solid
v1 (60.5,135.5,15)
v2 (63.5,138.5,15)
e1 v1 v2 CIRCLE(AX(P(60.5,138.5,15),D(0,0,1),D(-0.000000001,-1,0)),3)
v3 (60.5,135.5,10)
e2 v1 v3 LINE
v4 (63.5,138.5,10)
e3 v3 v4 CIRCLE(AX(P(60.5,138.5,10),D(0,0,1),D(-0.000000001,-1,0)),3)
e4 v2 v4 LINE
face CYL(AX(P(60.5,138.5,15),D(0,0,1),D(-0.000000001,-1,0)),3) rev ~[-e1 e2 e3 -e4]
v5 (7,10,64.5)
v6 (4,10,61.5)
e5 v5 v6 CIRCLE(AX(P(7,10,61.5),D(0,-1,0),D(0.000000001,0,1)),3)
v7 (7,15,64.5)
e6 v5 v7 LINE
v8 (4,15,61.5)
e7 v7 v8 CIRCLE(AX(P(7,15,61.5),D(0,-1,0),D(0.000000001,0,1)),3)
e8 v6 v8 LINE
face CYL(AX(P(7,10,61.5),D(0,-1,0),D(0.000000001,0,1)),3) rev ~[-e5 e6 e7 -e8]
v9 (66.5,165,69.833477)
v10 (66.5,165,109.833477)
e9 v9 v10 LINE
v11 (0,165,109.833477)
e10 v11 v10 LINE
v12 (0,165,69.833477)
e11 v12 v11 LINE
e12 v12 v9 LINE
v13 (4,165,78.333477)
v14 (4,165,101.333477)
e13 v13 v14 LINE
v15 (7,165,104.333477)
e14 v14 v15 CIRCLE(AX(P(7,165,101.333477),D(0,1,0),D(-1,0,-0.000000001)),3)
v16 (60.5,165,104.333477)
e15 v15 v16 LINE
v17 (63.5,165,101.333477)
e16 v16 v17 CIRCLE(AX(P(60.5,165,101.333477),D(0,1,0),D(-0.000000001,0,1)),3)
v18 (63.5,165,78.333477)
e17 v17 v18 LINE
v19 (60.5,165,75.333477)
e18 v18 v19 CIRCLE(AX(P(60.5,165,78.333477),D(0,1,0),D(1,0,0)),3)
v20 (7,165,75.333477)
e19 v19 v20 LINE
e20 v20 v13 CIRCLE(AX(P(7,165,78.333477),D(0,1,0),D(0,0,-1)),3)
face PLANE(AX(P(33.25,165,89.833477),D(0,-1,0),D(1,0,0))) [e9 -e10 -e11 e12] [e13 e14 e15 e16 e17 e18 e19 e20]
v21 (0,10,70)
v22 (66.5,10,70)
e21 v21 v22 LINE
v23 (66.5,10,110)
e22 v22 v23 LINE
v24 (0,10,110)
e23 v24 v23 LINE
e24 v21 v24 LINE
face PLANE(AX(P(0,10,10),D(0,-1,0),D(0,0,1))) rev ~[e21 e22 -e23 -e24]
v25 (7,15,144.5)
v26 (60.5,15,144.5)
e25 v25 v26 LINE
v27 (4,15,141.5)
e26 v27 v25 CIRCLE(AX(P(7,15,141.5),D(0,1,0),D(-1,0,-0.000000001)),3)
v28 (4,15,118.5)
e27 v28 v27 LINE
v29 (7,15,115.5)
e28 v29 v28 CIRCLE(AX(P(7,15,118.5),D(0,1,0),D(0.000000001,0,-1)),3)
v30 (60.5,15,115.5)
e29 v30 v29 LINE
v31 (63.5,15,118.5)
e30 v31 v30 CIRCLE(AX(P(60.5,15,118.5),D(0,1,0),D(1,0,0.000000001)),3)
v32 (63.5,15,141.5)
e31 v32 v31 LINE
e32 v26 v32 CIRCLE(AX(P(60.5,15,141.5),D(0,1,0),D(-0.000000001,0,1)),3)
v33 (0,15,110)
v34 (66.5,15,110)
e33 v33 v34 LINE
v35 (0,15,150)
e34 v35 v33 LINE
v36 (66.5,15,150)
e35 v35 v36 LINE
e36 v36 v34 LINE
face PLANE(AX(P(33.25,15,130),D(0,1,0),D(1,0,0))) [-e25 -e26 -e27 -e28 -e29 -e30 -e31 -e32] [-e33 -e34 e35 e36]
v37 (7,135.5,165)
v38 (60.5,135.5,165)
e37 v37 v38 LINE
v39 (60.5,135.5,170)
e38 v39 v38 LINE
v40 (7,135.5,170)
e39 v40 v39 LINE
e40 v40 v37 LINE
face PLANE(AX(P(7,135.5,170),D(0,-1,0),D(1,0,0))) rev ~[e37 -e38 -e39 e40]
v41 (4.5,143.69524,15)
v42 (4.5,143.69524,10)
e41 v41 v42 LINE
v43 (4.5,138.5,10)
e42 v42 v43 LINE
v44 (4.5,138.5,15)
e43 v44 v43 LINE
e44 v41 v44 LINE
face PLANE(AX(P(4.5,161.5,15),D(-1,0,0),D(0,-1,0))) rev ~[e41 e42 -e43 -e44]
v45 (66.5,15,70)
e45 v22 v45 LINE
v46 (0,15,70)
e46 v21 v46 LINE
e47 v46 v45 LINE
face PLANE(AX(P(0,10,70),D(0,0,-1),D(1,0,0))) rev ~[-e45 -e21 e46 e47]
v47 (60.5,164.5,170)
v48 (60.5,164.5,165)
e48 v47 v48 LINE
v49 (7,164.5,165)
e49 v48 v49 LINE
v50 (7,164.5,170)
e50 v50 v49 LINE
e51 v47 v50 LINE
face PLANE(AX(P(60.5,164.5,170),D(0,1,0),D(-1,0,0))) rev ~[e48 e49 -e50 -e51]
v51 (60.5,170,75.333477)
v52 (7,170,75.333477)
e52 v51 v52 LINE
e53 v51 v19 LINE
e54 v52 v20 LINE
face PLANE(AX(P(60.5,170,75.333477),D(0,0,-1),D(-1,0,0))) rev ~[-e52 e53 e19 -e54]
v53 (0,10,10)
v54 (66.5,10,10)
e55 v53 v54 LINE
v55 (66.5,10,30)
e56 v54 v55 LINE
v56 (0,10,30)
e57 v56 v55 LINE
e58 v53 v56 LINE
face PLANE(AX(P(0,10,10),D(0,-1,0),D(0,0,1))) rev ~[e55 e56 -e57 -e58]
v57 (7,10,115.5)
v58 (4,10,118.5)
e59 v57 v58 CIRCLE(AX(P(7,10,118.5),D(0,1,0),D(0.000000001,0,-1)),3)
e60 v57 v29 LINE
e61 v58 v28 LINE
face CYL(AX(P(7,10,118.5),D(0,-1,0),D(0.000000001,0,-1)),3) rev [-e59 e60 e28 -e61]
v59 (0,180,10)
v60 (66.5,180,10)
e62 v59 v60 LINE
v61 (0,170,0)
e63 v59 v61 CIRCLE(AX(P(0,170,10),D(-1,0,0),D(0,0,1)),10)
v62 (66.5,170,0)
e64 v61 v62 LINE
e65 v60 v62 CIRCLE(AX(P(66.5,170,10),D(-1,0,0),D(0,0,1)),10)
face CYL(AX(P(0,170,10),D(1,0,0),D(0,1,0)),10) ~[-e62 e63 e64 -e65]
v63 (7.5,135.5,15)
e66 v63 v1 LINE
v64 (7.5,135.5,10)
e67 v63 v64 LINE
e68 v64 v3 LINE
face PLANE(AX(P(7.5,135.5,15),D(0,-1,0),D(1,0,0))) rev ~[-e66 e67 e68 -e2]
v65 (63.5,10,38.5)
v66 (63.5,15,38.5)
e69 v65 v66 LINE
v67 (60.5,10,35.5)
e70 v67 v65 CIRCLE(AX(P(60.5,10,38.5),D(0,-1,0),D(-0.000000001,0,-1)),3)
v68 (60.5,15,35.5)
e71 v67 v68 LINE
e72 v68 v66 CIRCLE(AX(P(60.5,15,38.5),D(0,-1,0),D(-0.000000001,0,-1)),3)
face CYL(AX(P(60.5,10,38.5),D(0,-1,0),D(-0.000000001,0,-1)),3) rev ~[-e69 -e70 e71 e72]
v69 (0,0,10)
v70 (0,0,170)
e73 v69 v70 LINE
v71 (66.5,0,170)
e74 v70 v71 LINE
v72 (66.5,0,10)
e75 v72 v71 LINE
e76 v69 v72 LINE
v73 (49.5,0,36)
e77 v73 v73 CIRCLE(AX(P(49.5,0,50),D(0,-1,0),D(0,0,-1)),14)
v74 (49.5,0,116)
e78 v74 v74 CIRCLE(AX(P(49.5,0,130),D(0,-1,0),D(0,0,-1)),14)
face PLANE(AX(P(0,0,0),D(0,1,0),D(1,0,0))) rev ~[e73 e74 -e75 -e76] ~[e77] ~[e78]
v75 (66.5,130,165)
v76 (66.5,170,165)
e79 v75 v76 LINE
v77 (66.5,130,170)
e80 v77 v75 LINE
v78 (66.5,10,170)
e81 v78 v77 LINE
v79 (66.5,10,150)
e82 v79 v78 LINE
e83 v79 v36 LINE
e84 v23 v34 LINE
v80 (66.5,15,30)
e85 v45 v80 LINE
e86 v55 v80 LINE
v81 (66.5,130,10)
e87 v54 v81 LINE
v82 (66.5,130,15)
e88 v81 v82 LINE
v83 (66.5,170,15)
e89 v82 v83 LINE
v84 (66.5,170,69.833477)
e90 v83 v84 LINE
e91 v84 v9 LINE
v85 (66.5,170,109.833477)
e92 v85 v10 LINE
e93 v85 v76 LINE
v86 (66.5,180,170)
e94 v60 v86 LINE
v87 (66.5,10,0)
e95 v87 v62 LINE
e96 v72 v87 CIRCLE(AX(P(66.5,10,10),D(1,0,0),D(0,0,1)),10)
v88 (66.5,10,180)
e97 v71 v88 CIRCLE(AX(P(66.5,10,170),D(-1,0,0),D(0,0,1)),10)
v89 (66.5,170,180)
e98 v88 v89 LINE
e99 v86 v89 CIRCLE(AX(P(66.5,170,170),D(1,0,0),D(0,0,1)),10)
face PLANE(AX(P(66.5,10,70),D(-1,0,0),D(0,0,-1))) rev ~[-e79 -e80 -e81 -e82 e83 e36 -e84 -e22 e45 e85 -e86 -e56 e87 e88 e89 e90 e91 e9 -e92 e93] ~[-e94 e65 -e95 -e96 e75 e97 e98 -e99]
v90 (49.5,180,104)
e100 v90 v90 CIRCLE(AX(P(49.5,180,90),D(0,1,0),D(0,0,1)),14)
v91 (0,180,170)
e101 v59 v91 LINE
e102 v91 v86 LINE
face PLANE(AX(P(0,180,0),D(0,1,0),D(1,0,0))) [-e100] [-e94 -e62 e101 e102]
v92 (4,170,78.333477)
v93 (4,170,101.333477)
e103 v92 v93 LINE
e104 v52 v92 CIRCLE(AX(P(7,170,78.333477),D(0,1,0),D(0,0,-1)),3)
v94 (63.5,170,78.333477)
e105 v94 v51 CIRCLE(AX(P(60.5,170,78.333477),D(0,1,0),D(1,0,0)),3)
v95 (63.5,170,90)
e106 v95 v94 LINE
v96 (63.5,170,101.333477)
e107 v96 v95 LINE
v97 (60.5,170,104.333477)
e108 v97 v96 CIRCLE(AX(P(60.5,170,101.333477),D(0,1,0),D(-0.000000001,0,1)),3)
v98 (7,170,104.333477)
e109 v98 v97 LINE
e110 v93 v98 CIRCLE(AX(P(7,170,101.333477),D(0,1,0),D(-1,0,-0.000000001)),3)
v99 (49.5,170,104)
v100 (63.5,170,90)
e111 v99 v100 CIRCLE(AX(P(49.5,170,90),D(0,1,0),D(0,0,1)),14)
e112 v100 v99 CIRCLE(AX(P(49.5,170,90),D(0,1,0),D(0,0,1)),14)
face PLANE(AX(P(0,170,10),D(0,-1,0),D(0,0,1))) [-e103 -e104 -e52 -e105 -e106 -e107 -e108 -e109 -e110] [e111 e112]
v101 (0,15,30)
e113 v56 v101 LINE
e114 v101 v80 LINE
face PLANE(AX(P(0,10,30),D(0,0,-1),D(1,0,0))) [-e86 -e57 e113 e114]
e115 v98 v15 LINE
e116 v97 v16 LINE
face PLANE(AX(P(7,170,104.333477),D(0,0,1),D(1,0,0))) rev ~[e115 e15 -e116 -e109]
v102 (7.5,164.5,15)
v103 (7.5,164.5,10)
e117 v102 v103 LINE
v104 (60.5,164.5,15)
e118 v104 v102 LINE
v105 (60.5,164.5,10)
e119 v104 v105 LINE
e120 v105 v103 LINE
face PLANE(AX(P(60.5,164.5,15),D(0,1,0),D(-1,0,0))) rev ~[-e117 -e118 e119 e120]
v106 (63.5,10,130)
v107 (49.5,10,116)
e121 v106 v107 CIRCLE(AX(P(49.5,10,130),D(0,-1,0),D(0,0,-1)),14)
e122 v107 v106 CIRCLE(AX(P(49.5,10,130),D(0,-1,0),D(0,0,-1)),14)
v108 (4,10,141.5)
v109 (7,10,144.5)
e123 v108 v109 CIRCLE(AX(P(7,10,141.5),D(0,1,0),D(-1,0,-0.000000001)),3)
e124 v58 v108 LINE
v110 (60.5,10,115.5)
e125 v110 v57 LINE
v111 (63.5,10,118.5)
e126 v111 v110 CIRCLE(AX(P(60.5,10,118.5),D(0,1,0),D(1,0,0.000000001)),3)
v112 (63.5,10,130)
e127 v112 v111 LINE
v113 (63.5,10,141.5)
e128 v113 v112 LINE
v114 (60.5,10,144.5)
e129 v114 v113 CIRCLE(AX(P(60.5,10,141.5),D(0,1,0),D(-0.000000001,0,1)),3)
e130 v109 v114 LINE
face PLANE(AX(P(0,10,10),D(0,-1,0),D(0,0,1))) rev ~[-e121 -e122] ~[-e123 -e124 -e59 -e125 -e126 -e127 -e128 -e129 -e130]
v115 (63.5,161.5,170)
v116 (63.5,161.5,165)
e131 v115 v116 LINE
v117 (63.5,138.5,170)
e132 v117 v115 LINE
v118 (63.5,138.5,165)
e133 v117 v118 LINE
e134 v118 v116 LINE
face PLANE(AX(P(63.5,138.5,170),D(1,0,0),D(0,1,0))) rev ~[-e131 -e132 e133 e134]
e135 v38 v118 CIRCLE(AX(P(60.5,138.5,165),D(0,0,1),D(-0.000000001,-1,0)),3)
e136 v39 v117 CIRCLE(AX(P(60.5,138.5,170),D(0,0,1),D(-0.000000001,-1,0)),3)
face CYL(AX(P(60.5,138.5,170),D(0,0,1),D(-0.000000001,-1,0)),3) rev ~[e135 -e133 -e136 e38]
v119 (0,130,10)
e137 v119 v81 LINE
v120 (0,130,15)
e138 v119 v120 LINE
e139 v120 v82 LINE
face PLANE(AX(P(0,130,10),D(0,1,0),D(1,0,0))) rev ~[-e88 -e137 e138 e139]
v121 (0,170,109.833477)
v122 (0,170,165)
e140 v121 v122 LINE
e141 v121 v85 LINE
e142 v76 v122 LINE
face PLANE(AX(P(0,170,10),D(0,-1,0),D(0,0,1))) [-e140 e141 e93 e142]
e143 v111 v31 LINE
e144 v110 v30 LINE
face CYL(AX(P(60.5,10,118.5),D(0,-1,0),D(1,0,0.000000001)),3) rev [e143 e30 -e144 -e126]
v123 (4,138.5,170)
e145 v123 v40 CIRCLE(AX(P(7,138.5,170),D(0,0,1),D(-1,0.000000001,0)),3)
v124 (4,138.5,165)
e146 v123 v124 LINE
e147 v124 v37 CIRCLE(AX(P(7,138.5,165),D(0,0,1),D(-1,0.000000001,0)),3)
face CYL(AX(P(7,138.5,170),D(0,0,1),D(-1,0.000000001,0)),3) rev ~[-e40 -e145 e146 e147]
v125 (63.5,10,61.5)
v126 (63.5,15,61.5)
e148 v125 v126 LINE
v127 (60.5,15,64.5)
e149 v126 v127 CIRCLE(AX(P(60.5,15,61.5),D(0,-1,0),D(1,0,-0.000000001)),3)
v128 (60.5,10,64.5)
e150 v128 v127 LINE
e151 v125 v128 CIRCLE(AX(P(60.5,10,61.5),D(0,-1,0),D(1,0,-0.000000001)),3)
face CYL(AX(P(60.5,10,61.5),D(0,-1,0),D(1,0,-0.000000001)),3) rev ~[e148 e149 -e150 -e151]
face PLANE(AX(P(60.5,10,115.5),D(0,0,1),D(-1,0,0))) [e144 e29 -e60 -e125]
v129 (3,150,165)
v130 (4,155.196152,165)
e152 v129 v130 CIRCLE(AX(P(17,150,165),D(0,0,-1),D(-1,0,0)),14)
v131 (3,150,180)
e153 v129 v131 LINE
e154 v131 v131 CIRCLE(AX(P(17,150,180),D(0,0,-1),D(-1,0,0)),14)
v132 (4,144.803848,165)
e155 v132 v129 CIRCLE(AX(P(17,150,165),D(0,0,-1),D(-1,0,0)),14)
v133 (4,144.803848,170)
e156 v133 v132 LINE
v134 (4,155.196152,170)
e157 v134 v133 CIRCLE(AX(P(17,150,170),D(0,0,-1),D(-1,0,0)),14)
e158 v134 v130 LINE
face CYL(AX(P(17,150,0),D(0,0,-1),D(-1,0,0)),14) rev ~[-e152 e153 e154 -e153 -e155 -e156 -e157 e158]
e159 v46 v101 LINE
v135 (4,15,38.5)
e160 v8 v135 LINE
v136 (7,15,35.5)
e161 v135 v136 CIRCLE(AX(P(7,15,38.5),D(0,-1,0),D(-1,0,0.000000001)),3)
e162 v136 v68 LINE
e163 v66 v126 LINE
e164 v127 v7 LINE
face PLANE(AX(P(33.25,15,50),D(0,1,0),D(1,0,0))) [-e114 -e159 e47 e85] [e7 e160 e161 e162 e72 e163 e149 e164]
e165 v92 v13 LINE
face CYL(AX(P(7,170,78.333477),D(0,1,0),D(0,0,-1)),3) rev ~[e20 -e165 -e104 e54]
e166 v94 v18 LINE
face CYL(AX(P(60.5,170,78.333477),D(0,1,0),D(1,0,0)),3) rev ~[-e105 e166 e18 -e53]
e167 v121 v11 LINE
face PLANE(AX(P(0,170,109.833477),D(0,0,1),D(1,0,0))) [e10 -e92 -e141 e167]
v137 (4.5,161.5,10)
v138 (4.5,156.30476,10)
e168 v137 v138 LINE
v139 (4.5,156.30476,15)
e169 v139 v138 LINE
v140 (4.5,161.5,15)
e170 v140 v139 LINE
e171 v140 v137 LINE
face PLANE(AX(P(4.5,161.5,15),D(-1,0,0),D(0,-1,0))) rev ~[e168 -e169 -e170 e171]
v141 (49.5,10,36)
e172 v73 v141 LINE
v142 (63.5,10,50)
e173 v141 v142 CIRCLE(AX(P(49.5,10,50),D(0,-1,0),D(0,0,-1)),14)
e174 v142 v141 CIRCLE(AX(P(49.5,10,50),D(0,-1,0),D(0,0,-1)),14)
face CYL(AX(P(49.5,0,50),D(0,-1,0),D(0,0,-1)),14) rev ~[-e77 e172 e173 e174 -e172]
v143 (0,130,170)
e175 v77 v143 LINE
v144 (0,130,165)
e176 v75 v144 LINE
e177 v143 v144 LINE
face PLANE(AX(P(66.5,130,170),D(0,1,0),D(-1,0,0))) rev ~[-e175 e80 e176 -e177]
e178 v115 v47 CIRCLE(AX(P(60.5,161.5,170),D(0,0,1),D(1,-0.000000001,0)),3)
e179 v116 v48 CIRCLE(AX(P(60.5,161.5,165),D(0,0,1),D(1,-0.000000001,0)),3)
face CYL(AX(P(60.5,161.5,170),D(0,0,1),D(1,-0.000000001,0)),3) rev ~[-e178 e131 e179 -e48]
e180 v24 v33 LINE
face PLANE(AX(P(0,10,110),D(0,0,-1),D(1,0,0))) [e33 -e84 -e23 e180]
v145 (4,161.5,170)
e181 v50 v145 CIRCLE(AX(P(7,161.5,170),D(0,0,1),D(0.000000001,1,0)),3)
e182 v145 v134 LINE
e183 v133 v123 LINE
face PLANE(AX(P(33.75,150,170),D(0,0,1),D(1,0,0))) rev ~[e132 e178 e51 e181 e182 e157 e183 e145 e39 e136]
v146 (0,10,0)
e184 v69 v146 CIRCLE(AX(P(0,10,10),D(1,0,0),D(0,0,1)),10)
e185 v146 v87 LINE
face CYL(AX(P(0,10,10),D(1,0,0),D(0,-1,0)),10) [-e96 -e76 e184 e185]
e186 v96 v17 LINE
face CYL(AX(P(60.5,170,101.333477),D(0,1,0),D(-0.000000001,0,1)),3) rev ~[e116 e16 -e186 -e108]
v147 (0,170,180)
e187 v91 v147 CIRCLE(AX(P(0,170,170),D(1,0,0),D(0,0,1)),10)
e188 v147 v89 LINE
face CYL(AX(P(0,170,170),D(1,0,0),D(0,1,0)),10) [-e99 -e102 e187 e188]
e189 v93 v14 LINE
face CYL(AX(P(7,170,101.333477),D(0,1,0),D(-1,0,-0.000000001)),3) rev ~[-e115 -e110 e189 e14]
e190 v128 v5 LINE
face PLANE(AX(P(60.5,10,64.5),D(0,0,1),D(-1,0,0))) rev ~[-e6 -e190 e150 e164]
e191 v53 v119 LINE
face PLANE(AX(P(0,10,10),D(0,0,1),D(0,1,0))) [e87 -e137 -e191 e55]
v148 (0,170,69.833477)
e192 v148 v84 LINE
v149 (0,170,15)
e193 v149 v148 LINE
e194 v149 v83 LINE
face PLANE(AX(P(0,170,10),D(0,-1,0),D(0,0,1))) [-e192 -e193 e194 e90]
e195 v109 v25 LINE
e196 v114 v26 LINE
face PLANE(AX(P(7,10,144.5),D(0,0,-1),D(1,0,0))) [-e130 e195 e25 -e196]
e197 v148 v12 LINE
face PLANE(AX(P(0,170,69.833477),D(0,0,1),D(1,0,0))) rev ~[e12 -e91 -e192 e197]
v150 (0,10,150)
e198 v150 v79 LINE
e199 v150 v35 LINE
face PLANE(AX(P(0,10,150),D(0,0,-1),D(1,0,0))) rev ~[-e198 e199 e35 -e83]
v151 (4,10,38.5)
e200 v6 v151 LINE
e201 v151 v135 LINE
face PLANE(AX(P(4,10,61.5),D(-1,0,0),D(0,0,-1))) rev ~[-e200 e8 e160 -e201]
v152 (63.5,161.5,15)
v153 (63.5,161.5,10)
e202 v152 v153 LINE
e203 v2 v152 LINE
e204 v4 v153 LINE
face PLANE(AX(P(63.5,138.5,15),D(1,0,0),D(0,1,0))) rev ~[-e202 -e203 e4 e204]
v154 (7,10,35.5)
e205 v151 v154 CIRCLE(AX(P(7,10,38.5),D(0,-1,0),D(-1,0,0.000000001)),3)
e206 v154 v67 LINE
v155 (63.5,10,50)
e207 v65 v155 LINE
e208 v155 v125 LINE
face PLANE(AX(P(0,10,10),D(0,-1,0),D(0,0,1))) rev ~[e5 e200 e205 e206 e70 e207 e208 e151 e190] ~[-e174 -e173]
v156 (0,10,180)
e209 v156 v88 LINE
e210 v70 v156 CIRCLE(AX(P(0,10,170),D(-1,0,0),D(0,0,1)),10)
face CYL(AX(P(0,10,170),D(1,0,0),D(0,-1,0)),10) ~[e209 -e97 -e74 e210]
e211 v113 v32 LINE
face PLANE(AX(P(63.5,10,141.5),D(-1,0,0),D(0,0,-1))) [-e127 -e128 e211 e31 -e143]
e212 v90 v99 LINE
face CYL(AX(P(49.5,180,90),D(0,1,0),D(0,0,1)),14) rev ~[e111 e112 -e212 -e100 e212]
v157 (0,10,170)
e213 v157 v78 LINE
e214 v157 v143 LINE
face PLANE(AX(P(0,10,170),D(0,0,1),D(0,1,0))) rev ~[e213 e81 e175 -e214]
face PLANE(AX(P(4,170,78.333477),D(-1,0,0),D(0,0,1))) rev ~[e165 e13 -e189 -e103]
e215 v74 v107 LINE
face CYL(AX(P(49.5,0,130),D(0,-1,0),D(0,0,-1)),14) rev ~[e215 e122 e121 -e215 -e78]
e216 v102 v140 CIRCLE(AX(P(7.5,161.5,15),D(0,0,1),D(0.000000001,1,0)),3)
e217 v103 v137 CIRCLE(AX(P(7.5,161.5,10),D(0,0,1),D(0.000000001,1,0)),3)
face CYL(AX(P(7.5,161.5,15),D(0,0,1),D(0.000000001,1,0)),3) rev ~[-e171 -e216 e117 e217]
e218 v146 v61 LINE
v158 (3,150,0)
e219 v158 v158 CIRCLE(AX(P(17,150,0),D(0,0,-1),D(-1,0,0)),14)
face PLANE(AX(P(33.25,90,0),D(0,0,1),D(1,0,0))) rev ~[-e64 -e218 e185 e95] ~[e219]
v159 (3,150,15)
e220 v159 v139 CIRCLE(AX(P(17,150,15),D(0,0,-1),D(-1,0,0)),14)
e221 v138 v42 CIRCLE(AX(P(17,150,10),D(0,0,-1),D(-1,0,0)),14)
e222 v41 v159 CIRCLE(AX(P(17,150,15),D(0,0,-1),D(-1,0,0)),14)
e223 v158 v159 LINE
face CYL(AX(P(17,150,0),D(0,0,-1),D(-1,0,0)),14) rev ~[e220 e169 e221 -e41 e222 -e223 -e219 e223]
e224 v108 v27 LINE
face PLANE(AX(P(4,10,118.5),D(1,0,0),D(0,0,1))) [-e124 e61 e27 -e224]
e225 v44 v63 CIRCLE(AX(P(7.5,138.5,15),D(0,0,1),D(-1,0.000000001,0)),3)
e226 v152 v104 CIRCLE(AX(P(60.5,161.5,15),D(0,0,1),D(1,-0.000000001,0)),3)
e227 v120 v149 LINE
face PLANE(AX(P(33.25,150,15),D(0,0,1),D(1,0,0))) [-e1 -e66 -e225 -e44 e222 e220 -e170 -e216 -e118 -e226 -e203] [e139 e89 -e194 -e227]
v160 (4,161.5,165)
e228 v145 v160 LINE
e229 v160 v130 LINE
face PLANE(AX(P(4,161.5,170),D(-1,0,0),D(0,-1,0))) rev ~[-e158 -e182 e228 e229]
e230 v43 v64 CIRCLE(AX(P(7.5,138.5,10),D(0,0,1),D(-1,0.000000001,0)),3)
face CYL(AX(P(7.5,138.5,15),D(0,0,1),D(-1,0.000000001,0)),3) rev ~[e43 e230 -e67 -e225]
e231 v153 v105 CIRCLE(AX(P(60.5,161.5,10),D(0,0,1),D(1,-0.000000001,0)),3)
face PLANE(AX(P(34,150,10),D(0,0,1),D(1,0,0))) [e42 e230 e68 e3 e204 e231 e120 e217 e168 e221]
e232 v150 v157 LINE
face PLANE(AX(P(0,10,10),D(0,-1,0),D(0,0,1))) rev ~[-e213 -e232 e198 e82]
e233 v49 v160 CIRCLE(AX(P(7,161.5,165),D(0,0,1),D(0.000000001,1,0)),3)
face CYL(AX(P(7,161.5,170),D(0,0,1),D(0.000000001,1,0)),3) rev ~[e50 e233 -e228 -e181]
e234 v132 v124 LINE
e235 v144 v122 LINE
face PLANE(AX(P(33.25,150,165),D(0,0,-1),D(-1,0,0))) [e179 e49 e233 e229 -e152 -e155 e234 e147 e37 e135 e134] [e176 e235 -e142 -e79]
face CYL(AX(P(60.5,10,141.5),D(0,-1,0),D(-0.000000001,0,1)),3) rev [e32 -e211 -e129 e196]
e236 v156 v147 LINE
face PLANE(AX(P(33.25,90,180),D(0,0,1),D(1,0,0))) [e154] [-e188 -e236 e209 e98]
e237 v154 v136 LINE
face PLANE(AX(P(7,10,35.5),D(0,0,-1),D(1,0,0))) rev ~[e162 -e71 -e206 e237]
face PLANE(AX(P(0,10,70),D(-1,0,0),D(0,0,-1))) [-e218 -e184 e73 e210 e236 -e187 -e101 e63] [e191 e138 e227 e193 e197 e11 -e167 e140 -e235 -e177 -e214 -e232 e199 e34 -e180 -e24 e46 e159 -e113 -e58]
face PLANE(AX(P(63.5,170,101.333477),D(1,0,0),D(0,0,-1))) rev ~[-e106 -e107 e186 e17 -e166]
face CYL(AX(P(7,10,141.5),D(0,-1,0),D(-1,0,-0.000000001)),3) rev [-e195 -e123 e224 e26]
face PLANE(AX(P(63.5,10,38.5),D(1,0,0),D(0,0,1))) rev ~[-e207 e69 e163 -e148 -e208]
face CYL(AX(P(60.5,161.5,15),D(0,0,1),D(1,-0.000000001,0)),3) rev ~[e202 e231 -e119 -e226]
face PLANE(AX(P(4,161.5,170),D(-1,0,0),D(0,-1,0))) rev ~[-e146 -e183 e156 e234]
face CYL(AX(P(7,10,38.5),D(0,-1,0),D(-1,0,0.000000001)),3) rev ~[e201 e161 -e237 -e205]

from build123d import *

# Parameters (mm, degrees)
SKETCH1_W           = 66.5
SKETCH1_H           = 180
BOSS_EXTRUDE1_DEPTH = 180
SKETCH3_W           = 160
SKETCH3_H           = 160
CUT_EXTRUDE1_DEPTH  = 180
SKETCH8_W           = 66.5
SKETCH8_H           = 40
BOSS_EXTRUDE2_DEPTH = 5
SKETCH10_W          = 66.5
SKETCH10_H          = 40
BOSS_EXTRUDE3_DEPTH = 5
SKETCH5_R           = 14
CUT_EXTRUDE3_DEPTH  = 10
SKETCH7_R           = 14
CUT_EXTRUDE4_DEPTH  = 10
CUT_EXTRUDE5_DEPTH  = 5
CUT_EXTRUDE6_START  = -5
CUT_EXTRUDE6_DEPTH  = 5
SKETCH12_W          = 66.5
SKETCH12_H          = 40
BOSS_EXTRUDE8_DEPTH = 5
SKETCH15_R          = 14
CUT_EXTRUDE7_DEPTH  = 200
SKETCH16_W          = 66.5
SKETCH16_H          = 40
BOSS_EXTRUDE9_DEPTH = 5
FILLET1_R           = 10
FILLET2_R           = 10


with BuildPart() as part:
    # Sketch1 → Boss-Extrude1 (new body)
    with BuildSketch(Plane.XY):
        with Locations((33.25, 90)):
            Rectangle(SKETCH1_W, SKETCH1_H)
    extrude(amount=BOSS_EXTRUDE1_DEPTH)

    # Sketch3 → Cut-Extrude1 (cut)
    with BuildSketch(Plane.ZY):
        with Locations((90, 90)):
            Rectangle(SKETCH3_W, SKETCH3_H)
    extrude(amount=-CUT_EXTRUDE1_DEPTH, mode=Mode.SUBTRACT)

    # Sketch8 → Boss-Extrude2 (add)
    with BuildSketch(Plane.XY.offset(10)):
        with Locations((33.25, 150)):
            Rectangle(SKETCH8_W, SKETCH8_H)
    extrude(amount=BOSS_EXTRUDE2_DEPTH)

    # Sketch10 → Boss-Extrude3 (add)
    with BuildSketch(Plane(origin=(0, 0, 170), x_dir=(-1, 0, 0), z_dir=(0, 0, -1))):
        with Locations((-33.25, 150)):
            Rectangle(SKETCH10_W, SKETCH10_H)
    extrude(amount=BOSS_EXTRUDE3_DEPTH)

    # Sketch5 → Cut-Extrude3 (cut)
    with BuildSketch(Plane(origin=(0, 180, 0), x_dir=(1, 0, 0), z_dir=(0, 1, 0))):
        with Locations(Location((49.5, -90, 0), (0, 0, 270))):
            Circle(SKETCH5_R)
    extrude(amount=-CUT_EXTRUDE3_DEPTH, mode=Mode.SUBTRACT)

    # Sketch7 → Cut-Extrude4 (cut)
    with BuildSketch(Plane.XZ):
        with Locations(Location((49.5, 50, 0), (0, 0, 270))):
            Circle(SKETCH7_R)
        with Locations(Location((49.5, 130, 0), (0, 0, 270))):
            Circle(SKETCH7_R)
    extrude(amount=-CUT_EXTRUDE4_DEPTH, mode=Mode.SUBTRACT)

    # Sketch9 → Cut-Extrude5 (cut)
    with BuildSketch(Plane.XY.offset(15)):
        with BuildLine():
            Line((60.5, 164.5), (7.5, 164.5))
            ThreePointArc((7.5, 164.5), (5.378679656, 163.621320344), (4.5, 161.5))
            Line((4.5, 161.5), (4.5, 138.5))
            ThreePointArc((4.5, 138.5), (5.378679656, 136.378679656), (7.5, 135.5))
            Line((7.5, 135.5), (60.5, 135.5))
            ThreePointArc((60.5, 135.5), (62.621320344, 136.378679656), (63.5, 138.5))
            Line((63.5, 138.5), (63.5, 161.5))
            ThreePointArc((63.5, 161.5), (62.621320344, 163.621320344), (60.5, 164.5))
        make_face()
    extrude(amount=-CUT_EXTRUDE5_DEPTH, mode=Mode.SUBTRACT)

    # Sketch11 → Cut-Extrude6 (cut)
    with BuildSketch(Plane(origin=(0, 0, 165), x_dir=(-1, 0, 0), z_dir=(0, 0, -1)).offset(CUT_EXTRUDE6_START)):
        with BuildLine():
            Line((-60.5, 164.5), (-7, 164.5))
            ThreePointArc((-7, 164.5), (-4.878679656, 163.621320344), (-4, 161.5))
            Line((-4, 161.5), (-4, 138.5))
            ThreePointArc((-4, 138.5), (-4.878679656, 136.378679656), (-7, 135.5))
            Line((-7, 135.5), (-60.5, 135.5))
            ThreePointArc((-60.5, 135.5), (-62.621320344, 136.378679656), (-63.5, 138.5))
            Line((-63.5, 138.5), (-63.5, 161.5))
            ThreePointArc((-63.5, 161.5), (-62.621320344, 163.621320344), (-60.5, 164.5))
        make_face()
    extrude(amount=CUT_EXTRUDE6_DEPTH, mode=Mode.SUBTRACT)

    # Sketch12 → Boss-Extrude8 (add)
    with BuildSketch(Plane.XZ.offset(-170)):
        with Locations((33.25, 89.833476808)):
            Rectangle(SKETCH12_W, SKETCH12_H)
        with BuildLine():
            Line((60.5, 75.333476808), (7, 75.333476808))
            ThreePointArc((7, 75.333476808), (4.878679656, 76.212156465), (4, 78.333476808))
            Line((4, 78.333476808), (4, 101.333476808))
            ThreePointArc((4, 101.333476808), (4.878679656, 103.454797152), (7, 104.333476808))
            Line((7, 104.333476808), (60.5, 104.333476808))
            ThreePointArc((60.5, 104.333476808), (62.621320344, 103.454797152), (63.5, 101.333476808))
            Line((63.5, 101.333476808), (63.5, 78.333476808))
            ThreePointArc((63.5, 78.333476808), (62.621320344, 76.212156465), (60.5, 75.333476808))
        make_face(mode=Mode.SUBTRACT)
    extrude(amount=BOSS_EXTRUDE8_DEPTH)

    # Sketch15 → Cut-Extrude7 (cut)
    with BuildSketch(Plane(origin=(0, 0, 0), x_dir=(-1, 0, 0), z_dir=(0, 0, -1))):
        with Locations((-17, 150)):
            Circle(SKETCH15_R)
    extrude(amount=-CUT_EXTRUDE7_DEPTH, mode=Mode.SUBTRACT)

    # Sketch16 → Boss-Extrude9 (add)
    # profile 1 of 2: a face of its own
    with BuildSketch(Plane(origin=(0, 10, 0), x_dir=(1, 0, 0), z_dir=(0, 1, 0))):
        with Locations((33.25, -50)):
            Rectangle(SKETCH16_W, SKETCH16_H)
        with BuildLine():
            Line((63.5, -38.5), (63.5, -61.5))
            ThreePointArc((63.5, -61.5), (62.621320344, -63.621320344), (60.5, -64.5))
            Line((60.5, -64.5), (7, -64.5))
            ThreePointArc((7, -64.5), (4.878679656, -63.621320344), (4, -61.5))
            Line((4, -61.5), (4, -38.5))
            ThreePointArc((4, -38.5), (4.878679656, -36.378679656), (7, -35.5))
            Line((7, -35.5), (60.5, -35.5))
            ThreePointArc((60.5, -35.5), (62.621320344, -36.378679656), (63.5, -38.5))
        make_face(mode=Mode.SUBTRACT)
    # profile 2 of 2: a face of its own
    with BuildSketch(Plane(origin=(0, 10, 0), x_dir=(1, 0, 0), z_dir=(0, 1, 0))):
        with Locations((33.25, -130)):
            Rectangle(SKETCH16_W, SKETCH16_H)
        with BuildLine():
            Line((63.5, -141.5), (63.5, -118.5))
            ThreePointArc((63.5, -118.5), (62.621320344, -116.378679656), (60.5, -115.5))
            Line((60.5, -115.5), (7, -115.5))
            ThreePointArc((7, -115.5), (4.878679656, -116.378679656), (4, -118.5))
            Line((4, -118.5), (4, -141.5))
            ThreePointArc((4, -141.5), (4.878679656, -143.621320344), (7, -144.5))
            Line((7, -144.5), (60.5, -144.5))
            ThreePointArc((60.5, -144.5), (62.621320344, -143.621320344), (63.5, -141.5))
        make_face(mode=Mode.SUBTRACT)
    extrude(amount=BOSS_EXTRUDE9_DEPTH)

    # Fillet1
    fillet1_edges = [part.edges().sort_by_distance(p)[0] for p in [
        (33.25, 180, 0),
        (33.25, 0, 0),
    ]]
    fillet(fillet1_edges, radius=FILLET1_R)

    # Fillet2
    fillet2_edges = [part.edges().sort_by_distance(p)[0] for p in [
        (33.25, 180, 180),
        (33.25, 0, 180),
    ]]
    fillet(fillet2_edges, radius=FILLET2_R)


solid = part.part
